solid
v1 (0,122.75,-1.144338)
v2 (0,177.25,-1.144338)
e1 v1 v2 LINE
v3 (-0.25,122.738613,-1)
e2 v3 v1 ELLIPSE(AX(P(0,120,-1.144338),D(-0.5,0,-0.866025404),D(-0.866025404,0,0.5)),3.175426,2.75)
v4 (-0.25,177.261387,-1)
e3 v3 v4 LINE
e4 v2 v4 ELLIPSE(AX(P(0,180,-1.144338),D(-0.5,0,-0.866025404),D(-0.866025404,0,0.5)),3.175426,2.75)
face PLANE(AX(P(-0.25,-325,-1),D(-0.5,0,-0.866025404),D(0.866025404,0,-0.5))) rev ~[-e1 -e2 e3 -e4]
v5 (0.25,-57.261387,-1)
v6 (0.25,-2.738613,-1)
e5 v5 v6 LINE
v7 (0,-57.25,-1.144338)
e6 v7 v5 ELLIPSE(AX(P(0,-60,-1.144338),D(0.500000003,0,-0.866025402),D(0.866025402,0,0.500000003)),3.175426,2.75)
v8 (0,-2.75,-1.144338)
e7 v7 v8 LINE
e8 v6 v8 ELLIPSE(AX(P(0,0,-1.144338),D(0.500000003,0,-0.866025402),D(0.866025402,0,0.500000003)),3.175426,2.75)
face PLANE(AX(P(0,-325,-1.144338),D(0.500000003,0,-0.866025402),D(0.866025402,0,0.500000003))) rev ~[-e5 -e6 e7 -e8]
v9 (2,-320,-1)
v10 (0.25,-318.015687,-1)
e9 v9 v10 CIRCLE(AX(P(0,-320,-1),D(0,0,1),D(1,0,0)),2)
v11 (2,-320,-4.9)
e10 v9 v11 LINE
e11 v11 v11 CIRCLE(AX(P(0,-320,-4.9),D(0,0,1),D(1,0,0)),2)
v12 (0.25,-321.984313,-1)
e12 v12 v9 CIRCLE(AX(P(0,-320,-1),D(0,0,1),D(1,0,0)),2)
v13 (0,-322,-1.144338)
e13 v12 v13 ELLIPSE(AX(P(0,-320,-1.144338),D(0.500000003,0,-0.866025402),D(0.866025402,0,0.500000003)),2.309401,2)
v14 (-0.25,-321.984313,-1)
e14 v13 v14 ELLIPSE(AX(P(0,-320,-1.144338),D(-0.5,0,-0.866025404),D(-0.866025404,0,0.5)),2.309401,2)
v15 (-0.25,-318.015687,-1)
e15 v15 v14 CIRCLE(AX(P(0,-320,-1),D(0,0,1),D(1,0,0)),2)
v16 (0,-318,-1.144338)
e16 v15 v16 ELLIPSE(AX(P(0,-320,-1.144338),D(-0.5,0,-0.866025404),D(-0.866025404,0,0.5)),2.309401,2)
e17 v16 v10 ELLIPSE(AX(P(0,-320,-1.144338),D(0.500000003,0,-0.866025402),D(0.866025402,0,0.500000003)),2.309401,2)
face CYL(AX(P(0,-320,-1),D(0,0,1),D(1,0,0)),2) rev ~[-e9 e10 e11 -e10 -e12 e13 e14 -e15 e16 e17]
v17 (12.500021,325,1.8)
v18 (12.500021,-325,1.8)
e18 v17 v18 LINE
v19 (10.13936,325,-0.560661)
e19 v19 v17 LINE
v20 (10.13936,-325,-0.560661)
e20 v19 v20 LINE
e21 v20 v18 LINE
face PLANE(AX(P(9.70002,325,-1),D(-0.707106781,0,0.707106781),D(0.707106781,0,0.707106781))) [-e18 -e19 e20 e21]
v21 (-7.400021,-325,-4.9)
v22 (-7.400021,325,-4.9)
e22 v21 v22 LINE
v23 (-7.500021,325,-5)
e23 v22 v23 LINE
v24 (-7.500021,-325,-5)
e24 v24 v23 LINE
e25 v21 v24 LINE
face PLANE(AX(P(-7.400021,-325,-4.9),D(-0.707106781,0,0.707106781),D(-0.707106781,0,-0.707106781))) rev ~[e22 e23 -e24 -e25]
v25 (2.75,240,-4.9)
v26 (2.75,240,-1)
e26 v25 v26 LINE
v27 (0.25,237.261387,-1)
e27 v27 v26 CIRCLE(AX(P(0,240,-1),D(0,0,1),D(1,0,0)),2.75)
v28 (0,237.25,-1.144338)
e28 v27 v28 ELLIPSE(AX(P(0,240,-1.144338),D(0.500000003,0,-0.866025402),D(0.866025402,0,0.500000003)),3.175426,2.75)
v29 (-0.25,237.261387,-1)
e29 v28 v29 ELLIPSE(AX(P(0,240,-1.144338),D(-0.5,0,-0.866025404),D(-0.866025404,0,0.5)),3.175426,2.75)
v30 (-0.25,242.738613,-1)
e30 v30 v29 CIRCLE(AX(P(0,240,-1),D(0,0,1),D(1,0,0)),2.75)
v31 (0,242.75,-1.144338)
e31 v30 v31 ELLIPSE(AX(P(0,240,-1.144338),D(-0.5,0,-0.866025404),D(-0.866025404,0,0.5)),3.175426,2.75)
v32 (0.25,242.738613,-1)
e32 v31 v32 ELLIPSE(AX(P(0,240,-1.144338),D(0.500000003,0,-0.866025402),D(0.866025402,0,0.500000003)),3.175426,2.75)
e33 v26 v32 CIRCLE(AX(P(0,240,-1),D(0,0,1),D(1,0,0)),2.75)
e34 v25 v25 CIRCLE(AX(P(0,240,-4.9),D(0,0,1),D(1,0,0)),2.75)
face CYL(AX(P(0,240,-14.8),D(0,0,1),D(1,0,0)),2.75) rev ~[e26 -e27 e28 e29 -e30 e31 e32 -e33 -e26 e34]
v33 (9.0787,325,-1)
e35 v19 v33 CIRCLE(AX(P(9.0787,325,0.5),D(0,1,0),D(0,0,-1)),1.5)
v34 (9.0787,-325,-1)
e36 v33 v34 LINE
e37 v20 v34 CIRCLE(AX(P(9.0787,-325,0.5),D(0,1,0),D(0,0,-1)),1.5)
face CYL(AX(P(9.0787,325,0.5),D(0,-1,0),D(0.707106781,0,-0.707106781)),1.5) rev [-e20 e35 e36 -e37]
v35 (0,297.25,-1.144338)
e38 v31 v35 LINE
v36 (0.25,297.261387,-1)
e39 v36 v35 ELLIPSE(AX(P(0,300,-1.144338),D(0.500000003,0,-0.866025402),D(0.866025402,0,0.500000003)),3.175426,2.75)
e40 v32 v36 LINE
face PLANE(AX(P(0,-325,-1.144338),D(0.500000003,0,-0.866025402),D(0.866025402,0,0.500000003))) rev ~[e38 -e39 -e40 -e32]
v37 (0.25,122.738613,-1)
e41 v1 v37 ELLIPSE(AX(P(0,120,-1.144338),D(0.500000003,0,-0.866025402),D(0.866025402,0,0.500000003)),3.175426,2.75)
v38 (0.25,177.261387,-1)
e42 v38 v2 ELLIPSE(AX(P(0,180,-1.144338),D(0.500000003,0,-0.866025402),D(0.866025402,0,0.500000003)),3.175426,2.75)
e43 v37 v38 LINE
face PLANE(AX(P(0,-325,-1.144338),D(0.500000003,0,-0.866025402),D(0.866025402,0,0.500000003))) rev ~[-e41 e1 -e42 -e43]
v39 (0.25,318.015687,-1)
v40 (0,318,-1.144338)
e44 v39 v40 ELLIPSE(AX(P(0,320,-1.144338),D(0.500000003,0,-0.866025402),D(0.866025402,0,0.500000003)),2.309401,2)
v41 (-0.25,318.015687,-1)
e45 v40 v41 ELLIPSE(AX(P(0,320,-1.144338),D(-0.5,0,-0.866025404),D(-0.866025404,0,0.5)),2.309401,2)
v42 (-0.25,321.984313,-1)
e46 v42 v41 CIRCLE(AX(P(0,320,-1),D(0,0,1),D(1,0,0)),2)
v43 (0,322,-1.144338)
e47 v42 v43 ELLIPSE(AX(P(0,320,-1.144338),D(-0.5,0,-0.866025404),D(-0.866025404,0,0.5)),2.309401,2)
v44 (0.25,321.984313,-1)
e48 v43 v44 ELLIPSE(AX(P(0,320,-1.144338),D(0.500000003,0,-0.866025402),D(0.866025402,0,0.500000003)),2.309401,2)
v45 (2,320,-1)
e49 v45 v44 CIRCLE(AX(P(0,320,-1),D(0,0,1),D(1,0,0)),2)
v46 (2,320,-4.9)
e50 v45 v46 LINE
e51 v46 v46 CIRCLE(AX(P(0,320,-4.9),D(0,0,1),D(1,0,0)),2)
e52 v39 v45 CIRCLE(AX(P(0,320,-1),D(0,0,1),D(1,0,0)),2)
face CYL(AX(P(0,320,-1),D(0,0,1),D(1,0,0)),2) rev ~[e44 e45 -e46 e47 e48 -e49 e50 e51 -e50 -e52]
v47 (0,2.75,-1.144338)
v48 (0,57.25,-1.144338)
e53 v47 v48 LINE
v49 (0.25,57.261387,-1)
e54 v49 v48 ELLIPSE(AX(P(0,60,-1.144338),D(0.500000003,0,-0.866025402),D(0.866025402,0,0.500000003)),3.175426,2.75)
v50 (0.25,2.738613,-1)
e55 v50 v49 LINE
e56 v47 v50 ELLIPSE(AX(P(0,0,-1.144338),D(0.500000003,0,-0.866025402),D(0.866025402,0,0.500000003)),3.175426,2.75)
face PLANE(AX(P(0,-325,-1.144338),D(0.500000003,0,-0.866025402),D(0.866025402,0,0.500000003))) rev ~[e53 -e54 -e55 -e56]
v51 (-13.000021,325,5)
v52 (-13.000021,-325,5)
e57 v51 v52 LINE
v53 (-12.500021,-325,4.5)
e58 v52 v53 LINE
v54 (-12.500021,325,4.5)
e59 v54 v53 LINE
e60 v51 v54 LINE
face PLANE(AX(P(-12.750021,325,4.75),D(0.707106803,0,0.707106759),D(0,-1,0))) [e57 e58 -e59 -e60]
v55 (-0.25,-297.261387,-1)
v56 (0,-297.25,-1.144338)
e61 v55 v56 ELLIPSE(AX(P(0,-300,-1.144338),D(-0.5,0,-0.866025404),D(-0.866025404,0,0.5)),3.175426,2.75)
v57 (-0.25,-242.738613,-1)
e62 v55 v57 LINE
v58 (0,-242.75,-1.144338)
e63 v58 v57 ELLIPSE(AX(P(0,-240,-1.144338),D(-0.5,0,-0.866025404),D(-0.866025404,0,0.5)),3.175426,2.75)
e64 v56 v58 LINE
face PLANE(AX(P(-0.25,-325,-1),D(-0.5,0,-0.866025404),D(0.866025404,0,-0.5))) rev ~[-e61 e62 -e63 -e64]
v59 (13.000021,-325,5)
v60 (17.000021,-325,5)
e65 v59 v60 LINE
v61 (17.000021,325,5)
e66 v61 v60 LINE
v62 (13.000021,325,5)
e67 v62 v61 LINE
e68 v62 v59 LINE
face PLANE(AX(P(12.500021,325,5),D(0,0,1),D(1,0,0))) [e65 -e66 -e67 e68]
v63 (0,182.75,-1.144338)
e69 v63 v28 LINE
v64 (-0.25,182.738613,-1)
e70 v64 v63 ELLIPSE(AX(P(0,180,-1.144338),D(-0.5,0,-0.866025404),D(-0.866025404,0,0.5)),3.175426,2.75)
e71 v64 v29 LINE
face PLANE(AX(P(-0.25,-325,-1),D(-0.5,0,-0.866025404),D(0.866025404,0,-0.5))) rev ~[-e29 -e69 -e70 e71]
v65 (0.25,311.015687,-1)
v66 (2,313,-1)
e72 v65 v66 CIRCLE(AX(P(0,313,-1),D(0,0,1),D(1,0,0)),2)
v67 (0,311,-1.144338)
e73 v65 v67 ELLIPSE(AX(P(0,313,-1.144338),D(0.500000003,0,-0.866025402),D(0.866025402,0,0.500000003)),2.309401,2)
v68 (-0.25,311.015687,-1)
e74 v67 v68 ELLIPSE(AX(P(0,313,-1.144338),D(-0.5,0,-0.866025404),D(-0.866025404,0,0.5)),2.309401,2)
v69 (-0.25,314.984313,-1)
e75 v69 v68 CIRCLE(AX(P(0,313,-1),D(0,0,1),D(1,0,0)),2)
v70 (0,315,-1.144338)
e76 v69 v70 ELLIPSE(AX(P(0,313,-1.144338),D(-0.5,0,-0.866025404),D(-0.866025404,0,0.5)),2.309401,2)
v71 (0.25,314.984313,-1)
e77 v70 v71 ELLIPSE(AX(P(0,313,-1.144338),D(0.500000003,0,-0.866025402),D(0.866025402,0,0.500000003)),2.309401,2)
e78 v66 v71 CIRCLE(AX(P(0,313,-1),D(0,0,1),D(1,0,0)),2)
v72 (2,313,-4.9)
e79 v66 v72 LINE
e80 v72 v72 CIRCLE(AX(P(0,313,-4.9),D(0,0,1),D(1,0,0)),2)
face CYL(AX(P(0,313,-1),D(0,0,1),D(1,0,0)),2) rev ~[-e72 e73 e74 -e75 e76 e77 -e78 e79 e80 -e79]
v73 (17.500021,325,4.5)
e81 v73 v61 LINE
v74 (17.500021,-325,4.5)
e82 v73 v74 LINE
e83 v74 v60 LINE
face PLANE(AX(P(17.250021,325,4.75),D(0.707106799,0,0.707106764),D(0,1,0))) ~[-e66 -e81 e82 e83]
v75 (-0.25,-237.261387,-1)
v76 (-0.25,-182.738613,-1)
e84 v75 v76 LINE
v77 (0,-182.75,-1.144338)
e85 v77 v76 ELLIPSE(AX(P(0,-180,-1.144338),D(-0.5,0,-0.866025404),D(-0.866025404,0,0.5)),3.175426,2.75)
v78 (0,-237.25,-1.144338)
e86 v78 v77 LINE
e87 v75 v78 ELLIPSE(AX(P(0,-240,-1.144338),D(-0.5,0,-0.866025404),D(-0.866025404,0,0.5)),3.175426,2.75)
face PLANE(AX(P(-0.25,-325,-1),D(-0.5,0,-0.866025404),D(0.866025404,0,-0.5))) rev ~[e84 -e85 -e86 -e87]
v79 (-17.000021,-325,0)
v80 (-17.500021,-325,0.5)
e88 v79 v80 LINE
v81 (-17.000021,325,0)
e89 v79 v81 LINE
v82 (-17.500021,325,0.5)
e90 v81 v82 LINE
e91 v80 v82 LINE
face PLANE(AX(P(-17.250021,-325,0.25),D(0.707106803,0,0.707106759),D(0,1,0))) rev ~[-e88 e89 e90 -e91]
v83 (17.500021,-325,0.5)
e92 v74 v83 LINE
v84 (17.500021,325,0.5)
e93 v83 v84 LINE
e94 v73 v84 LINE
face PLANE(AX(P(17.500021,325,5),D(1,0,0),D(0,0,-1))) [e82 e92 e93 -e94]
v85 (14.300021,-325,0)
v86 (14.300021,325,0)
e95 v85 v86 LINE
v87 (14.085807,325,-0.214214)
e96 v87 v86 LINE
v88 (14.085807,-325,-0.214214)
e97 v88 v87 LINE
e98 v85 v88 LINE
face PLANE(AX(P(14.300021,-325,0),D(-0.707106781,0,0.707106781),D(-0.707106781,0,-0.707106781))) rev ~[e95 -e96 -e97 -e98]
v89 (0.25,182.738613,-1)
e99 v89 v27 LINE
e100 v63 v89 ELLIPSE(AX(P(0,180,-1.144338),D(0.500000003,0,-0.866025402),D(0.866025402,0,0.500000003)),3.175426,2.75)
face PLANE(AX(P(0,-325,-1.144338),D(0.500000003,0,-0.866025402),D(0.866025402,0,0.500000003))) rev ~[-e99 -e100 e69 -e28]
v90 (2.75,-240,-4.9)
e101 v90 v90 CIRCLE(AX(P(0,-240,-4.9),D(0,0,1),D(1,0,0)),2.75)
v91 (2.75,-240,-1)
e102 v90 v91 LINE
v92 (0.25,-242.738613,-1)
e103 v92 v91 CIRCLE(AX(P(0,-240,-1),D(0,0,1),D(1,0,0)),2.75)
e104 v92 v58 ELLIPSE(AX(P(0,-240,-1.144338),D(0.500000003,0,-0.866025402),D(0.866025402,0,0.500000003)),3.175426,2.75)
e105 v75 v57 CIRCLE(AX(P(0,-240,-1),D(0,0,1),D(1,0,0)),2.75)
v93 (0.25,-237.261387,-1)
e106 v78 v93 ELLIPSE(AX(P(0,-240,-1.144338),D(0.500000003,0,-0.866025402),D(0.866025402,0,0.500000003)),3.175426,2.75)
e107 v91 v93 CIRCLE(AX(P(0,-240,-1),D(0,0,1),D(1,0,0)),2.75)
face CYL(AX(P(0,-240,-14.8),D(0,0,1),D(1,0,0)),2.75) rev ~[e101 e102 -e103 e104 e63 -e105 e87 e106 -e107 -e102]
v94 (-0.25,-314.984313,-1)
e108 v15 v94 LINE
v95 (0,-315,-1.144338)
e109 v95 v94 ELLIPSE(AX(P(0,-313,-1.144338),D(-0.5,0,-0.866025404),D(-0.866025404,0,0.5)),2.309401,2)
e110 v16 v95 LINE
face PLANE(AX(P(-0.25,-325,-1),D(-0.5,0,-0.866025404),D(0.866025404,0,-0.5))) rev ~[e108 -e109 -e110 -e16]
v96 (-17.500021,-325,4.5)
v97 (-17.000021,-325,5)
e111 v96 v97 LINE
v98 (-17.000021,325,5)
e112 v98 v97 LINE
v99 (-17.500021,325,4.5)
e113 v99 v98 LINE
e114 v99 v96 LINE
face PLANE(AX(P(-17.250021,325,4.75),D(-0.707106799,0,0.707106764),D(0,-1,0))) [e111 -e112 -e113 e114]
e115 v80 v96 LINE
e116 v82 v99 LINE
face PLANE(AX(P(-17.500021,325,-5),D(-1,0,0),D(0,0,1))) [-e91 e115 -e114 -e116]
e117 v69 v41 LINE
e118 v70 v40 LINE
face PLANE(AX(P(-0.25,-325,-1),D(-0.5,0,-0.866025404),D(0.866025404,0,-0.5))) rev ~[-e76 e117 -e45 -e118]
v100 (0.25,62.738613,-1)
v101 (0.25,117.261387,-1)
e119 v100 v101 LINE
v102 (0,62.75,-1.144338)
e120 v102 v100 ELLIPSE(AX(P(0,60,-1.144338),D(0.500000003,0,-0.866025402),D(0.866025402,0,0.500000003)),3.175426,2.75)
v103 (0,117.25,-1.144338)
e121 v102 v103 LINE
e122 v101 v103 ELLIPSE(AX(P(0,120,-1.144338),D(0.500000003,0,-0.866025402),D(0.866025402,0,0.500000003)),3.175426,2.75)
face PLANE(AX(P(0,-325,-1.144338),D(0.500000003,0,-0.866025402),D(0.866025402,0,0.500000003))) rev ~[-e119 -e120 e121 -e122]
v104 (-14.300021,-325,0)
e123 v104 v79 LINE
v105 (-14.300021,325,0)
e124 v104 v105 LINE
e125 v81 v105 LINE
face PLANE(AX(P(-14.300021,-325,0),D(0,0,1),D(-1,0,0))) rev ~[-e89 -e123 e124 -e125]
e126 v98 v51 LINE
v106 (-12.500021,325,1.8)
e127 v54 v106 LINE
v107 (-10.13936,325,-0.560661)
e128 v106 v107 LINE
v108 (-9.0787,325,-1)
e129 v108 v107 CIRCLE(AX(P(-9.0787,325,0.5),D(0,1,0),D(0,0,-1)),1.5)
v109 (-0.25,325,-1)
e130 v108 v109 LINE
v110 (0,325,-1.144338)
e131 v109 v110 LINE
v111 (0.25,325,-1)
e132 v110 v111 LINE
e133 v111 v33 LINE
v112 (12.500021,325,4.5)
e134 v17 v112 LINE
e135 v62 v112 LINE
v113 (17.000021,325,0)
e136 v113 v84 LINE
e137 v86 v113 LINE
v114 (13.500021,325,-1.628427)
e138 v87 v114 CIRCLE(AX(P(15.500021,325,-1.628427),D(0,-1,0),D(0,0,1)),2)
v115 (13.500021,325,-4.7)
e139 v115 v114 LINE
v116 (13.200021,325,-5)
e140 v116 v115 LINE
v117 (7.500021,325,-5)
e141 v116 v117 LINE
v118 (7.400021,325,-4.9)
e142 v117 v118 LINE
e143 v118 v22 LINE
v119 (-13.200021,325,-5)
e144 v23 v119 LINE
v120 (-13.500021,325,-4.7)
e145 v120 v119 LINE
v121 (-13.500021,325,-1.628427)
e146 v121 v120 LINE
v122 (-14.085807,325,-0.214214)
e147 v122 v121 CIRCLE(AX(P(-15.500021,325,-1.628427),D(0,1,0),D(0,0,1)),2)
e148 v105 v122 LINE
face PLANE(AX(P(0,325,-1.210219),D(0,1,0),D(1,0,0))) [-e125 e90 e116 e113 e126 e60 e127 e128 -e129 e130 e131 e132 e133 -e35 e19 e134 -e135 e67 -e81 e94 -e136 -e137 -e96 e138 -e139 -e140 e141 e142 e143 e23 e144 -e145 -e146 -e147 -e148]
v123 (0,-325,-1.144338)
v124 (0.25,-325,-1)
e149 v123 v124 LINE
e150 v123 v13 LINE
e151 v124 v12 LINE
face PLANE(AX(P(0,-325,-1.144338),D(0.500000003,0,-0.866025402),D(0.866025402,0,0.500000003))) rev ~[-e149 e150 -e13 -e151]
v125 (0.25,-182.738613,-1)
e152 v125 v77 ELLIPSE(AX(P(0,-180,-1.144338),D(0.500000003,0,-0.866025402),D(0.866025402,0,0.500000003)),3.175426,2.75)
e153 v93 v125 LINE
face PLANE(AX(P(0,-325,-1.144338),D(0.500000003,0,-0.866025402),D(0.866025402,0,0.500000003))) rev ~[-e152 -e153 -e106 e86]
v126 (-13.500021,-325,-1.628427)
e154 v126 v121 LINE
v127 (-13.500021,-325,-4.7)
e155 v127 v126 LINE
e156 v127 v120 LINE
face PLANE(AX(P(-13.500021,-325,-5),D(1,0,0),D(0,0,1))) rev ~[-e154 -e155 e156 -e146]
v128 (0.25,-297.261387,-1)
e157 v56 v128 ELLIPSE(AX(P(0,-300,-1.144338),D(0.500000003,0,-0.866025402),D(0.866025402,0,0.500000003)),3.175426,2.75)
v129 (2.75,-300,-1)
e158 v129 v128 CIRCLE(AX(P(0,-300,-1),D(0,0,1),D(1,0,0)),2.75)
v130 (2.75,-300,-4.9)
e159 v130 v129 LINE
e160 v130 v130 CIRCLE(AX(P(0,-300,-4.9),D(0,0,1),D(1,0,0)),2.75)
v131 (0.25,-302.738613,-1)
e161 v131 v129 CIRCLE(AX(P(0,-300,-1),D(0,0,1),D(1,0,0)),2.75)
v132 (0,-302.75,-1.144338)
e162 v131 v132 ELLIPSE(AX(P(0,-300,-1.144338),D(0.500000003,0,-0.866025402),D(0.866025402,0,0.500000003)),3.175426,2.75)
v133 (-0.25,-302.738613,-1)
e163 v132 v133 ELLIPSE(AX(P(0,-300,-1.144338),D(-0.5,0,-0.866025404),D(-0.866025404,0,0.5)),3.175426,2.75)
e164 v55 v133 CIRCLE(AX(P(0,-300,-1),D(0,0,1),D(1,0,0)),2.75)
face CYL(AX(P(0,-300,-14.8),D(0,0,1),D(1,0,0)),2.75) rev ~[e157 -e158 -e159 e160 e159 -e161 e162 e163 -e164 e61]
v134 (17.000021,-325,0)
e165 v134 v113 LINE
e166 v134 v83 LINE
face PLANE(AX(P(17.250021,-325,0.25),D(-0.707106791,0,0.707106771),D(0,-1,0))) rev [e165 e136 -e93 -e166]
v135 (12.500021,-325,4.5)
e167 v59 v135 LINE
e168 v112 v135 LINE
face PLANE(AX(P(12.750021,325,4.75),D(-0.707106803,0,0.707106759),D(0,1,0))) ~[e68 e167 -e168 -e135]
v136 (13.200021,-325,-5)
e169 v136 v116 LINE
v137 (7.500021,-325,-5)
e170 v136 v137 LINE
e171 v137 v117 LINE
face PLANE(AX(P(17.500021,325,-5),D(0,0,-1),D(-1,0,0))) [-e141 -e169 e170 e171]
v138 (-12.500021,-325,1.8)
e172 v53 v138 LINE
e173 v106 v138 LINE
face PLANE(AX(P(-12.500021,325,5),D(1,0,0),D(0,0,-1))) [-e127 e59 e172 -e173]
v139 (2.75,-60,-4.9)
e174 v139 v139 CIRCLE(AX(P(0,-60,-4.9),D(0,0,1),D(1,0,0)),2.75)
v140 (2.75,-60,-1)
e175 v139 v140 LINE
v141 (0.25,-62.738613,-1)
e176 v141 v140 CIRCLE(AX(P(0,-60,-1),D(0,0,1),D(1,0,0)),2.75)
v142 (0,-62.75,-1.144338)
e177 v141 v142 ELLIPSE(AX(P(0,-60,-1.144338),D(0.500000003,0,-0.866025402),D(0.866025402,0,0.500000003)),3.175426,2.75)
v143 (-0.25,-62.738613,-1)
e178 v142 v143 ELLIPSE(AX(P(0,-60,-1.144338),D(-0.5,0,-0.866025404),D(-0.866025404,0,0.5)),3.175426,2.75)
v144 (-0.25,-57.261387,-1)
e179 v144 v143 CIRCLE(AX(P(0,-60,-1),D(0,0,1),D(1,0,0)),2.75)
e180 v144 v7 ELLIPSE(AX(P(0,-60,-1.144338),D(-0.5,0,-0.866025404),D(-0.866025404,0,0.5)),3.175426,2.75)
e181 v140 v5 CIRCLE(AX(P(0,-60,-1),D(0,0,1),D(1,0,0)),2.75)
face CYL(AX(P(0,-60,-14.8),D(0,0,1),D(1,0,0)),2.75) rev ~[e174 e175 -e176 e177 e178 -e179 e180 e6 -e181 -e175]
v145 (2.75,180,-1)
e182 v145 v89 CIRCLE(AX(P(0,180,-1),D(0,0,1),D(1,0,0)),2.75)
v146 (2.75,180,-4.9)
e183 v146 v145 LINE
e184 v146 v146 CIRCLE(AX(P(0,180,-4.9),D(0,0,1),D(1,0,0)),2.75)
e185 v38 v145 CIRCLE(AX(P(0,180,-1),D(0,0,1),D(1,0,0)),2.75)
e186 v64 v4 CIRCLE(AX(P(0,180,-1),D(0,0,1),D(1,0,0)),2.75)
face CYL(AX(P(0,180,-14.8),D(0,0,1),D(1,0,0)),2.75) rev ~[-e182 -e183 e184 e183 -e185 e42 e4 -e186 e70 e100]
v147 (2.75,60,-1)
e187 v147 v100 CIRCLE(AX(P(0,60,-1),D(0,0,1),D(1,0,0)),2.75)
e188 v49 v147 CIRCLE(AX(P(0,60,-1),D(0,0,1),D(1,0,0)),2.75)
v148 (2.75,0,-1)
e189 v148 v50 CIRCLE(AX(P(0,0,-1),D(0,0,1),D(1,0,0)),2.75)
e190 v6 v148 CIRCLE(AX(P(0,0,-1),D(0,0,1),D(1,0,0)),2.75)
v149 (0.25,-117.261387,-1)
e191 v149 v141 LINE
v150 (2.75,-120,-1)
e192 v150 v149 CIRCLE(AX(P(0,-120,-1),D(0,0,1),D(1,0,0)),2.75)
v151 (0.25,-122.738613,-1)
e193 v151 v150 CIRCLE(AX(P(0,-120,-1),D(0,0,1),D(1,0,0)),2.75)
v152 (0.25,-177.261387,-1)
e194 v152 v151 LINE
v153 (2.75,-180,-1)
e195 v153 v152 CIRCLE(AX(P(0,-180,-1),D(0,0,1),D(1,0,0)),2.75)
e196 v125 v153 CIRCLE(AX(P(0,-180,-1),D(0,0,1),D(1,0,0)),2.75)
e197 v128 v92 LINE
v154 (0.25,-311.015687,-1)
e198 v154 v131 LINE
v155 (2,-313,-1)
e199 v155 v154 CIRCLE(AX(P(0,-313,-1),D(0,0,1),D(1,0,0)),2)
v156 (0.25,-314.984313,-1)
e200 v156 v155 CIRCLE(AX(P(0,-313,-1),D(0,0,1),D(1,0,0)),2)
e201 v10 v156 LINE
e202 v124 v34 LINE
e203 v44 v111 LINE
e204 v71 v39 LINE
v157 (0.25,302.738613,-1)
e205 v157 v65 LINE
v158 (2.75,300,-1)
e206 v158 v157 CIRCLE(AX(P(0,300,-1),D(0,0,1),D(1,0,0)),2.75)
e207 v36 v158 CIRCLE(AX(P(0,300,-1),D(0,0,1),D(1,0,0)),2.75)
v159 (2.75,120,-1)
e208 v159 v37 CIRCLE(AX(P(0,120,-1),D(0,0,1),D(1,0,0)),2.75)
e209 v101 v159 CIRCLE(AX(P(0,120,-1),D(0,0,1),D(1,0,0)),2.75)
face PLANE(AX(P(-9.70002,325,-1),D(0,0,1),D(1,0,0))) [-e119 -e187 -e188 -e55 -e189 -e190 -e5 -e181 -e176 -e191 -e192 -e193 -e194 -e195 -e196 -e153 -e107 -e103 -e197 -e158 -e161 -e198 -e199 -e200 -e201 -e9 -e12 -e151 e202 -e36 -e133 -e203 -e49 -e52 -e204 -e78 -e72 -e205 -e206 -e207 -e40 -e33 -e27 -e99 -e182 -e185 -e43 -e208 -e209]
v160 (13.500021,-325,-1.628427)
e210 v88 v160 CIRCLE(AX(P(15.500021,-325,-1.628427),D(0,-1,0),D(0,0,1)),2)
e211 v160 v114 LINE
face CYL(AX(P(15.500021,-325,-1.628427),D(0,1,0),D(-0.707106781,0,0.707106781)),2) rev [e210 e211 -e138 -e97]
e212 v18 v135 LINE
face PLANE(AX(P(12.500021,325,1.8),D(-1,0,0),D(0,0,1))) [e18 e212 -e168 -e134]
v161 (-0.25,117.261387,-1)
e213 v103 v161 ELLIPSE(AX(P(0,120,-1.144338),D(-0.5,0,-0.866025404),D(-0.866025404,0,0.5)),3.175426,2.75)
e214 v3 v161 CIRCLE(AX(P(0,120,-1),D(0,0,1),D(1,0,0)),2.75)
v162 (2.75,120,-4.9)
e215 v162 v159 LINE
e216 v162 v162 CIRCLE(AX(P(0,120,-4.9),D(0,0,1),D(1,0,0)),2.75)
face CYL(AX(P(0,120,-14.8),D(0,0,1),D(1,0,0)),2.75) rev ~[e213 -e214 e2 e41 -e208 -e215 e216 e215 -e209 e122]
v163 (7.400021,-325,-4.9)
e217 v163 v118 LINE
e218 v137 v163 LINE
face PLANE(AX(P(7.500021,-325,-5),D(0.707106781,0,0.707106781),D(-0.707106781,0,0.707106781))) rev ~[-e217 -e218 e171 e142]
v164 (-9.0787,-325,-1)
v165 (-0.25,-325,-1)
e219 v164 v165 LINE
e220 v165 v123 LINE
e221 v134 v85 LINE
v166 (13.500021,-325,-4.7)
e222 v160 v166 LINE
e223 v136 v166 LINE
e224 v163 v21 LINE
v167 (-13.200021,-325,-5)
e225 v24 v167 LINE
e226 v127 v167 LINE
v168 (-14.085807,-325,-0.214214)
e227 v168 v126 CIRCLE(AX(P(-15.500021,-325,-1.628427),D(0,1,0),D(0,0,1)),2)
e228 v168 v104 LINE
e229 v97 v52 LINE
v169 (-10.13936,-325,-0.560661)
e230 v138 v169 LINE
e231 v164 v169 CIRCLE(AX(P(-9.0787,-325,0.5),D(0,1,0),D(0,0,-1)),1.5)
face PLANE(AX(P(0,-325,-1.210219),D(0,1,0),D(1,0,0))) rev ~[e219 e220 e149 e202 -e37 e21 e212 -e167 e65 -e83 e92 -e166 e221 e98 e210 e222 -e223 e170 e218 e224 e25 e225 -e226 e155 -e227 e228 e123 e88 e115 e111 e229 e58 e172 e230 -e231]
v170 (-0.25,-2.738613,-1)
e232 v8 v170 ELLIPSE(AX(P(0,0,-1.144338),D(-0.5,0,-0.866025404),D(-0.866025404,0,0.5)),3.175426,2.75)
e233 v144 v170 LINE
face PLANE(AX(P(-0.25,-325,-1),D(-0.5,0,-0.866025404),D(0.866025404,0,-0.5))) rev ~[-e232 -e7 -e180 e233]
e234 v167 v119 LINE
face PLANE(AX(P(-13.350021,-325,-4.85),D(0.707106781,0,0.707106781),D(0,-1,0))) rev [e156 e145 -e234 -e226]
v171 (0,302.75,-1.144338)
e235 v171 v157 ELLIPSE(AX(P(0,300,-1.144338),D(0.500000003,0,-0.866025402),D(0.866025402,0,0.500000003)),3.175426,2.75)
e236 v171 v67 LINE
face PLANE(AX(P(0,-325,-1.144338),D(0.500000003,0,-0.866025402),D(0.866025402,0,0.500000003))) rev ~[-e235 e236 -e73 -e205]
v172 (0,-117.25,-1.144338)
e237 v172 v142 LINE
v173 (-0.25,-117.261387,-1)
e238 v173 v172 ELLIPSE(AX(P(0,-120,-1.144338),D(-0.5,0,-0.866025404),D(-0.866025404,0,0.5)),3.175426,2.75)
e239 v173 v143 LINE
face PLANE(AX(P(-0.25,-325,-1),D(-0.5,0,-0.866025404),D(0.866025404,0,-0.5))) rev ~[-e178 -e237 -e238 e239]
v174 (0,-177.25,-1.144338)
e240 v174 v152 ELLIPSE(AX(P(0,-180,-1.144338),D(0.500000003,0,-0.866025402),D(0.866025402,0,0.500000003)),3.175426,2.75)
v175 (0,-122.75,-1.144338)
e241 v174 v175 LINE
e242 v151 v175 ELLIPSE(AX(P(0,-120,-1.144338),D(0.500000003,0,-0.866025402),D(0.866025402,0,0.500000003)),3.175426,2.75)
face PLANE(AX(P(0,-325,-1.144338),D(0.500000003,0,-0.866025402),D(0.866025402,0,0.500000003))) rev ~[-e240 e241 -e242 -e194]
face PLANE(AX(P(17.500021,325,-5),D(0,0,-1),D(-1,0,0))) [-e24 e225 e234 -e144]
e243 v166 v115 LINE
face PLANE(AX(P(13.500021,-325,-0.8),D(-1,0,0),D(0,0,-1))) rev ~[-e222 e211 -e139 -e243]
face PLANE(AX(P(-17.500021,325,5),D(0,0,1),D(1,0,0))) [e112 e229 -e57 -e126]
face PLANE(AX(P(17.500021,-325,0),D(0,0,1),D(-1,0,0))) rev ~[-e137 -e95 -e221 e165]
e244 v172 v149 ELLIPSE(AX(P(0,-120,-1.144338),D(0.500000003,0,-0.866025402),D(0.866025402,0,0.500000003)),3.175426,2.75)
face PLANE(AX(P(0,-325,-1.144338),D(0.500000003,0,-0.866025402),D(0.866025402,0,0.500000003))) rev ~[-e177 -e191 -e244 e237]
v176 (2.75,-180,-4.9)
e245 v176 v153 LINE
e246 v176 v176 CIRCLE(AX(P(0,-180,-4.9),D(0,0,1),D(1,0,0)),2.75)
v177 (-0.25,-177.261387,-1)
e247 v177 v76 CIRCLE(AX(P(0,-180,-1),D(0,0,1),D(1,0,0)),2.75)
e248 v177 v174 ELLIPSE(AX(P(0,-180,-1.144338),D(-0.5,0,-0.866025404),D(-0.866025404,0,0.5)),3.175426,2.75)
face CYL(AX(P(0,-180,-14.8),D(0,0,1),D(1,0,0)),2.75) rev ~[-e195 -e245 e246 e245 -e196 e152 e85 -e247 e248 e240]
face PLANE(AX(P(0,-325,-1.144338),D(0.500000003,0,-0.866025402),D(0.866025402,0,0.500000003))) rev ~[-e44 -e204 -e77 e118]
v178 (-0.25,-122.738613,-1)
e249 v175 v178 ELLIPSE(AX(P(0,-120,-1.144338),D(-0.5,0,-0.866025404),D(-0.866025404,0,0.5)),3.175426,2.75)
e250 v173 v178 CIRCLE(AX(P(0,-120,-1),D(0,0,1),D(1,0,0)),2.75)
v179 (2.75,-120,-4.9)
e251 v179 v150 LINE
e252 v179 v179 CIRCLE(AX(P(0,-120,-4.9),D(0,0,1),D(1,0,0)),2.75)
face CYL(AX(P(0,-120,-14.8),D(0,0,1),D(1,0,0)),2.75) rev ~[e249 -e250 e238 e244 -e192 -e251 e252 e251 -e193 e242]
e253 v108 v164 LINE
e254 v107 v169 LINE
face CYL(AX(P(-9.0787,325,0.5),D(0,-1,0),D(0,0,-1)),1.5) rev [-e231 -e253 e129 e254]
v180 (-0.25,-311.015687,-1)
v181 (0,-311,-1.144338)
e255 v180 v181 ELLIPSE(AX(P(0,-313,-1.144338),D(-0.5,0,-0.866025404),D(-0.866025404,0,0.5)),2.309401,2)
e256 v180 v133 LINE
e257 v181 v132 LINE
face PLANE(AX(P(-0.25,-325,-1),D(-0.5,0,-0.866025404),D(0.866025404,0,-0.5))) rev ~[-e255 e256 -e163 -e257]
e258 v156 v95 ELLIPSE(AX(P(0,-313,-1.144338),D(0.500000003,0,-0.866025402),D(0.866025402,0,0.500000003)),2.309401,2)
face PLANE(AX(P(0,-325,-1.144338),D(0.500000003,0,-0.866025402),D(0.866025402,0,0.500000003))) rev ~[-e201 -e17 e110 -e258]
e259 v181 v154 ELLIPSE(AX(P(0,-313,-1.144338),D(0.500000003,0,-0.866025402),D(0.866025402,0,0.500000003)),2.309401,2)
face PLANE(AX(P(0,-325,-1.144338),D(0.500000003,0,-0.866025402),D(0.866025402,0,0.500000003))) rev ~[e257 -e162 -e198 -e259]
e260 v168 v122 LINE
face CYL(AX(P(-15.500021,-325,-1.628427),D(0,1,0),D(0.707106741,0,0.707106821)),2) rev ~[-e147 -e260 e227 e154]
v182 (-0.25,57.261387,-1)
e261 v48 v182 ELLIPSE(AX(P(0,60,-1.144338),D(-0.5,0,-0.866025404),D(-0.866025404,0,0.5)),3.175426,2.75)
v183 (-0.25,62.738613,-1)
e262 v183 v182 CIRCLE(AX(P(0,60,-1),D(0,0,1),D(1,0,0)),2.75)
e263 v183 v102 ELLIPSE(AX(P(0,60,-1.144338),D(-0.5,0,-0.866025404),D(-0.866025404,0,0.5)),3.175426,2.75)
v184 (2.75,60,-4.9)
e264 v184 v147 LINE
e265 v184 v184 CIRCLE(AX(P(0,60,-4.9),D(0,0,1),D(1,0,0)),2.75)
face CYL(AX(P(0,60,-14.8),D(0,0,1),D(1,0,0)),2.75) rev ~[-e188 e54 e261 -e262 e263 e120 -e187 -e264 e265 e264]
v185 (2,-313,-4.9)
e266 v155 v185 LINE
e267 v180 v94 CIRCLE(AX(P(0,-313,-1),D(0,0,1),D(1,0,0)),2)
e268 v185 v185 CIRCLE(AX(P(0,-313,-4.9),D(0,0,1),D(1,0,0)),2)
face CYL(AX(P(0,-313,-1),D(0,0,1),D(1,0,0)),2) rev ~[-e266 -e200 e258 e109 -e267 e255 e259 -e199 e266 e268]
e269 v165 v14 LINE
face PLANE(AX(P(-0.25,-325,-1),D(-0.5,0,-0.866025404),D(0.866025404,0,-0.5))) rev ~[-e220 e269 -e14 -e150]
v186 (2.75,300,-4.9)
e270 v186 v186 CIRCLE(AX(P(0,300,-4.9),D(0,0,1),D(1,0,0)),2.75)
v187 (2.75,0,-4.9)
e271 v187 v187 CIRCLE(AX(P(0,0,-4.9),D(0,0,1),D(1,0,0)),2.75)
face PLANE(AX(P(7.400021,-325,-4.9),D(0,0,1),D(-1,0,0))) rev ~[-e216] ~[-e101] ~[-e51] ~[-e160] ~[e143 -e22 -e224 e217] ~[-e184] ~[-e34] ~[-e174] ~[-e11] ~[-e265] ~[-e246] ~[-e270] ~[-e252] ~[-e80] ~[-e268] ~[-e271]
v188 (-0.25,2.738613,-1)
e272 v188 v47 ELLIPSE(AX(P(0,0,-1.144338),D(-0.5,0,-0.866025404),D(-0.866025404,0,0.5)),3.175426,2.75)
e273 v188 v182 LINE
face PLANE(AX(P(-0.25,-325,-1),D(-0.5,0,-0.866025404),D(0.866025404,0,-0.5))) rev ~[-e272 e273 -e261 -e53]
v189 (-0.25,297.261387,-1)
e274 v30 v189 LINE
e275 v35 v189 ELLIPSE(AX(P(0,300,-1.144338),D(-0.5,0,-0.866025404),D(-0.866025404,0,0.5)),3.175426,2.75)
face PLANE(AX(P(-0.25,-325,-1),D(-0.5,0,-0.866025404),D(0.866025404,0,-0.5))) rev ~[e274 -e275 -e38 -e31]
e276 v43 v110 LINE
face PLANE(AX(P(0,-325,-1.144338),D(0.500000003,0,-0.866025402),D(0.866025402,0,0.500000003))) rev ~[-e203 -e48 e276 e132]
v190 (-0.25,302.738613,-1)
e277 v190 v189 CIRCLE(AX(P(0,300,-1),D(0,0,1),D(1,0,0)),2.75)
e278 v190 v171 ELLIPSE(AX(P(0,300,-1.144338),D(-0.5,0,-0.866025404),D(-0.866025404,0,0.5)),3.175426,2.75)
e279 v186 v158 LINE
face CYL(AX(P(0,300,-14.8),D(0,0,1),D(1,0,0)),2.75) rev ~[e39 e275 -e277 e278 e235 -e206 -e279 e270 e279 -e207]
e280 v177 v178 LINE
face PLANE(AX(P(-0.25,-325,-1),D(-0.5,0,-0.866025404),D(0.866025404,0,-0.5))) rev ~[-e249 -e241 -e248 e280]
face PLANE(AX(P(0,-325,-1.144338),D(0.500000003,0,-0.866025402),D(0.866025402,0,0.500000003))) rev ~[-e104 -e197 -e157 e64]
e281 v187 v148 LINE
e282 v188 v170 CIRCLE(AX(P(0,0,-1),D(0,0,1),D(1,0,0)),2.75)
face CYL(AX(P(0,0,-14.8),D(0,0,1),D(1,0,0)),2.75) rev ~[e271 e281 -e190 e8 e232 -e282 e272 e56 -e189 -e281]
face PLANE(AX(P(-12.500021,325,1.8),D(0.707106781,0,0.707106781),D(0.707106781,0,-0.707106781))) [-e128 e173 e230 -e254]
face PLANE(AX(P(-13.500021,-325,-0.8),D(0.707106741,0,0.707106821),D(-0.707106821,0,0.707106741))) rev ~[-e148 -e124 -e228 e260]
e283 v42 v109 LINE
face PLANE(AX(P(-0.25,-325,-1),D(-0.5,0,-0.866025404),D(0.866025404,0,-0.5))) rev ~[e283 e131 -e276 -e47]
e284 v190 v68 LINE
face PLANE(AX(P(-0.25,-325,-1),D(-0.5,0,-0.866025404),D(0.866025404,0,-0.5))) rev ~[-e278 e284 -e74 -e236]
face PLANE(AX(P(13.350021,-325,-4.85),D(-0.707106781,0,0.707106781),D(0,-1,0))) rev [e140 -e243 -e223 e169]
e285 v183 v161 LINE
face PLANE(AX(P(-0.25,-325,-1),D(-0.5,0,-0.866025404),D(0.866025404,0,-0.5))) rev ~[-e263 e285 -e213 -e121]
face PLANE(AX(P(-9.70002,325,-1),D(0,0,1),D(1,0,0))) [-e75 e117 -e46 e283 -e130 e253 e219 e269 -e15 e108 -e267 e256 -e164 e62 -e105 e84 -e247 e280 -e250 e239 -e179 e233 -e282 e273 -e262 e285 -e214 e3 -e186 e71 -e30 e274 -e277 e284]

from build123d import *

# Parameters (mm, degrees)
BOSS_EXTRU_1_DEPTH                  = 650
ENL_V_MAT_EXTRU_1_DEPTH             = 651.254758327
ENL_V_MAT_EXTRU_2_DEPTH             = 650
ENL_V_MAT_EXTRU_3_DEPTH             = 651.254758327
ENL_V_MAT_EXTRU_4_DEPTH             = 650
DIAM_TRE_DU_PER_AGE_5_5_5_5_1_D     = 5.5
DIAM_TRE_DU_PER_AGE_5_5_5_5_1_DEPTH = 9.900000103
CHANFREIN1_SIZE2                    = 0.499999975
CHANFREIN1_SIZE                     = 0.5
CHANFREIN2_SIZE                     = 0.3
CHANFREIN3_SIZE2                    = 0.500000028
CHANFREIN3_SIZE                     = 0.499999997
CHANFREIN4_SIZE                     = 0.5
CHANFREIN4_SIZE2                    = 0.500000014
CONG_1_R                            = 1.499999963
CONG_2_R                            = 1.999999944
ESQUISSE8_R                         = 2
ENL_V_MAT_EXTRU_5_DEPTH             = 10


with BuildPart() as part:
    # Esquisse1 → Boss.-Extru.1 (new body)
    with BuildSketch(Plane(origin=(0, 325, 0), x_dir=(1, 0, 0), z_dir=(0, 1, 0))):
        Polygon((-9.70002034, 1.00000045), (9.70002034, 1.00000045), (12.50002072, -1.79999993), (12.50002072, -4.999999928), (17.50002072, -4.999999928), (17.50002072, 5.000000175), (-17.50002072, 5.000000175), (-17.50002072, -4.999999928), (-12.50002072, -4.999999928), (-12.50002072, -1.79999993), align=None)
    extrude(amount=-BOSS_EXTRU_1_DEPTH)

    # Esquisse2 → Enlèv. mat.-Extru.1 (cut, through all)
    with BuildSketch(Plane.XZ.offset(325)):
        Polygon((-14.30002069, -6.7e-08), (-17.50002072, -6.7e-08), (-17.50002072, -5.000000175), (-13.50002072, -5.000000175), (-13.50002072, -0.799999947), align=None)
    extrude(amount=-ENL_V_MAT_EXTRU_1_DEPTH, mode=Mode.SUBTRACT)

    # Esquisse3 → Enlèv. mat.-Extru.2 (cut)
    with BuildSketch(Plane.XZ.offset(325)):
        Polygon((0.25, -1.000000175), (-0.25, -1.000000175), (1e-09, -1.144337743), align=None)
    extrude(amount=-ENL_V_MAT_EXTRU_2_DEPTH, mode=Mode.SUBTRACT)

    # Esquisse4 → Enlèv. mat.-Extru.3 (cut, through all)
    with BuildSketch(Plane.XZ.offset(325)):
        Polygon((13.50002072, -0.799999925), (13.50002072, -5.000000175), (17.50002072, -5.000000175), (17.50002072, 7.5e-08), (14.30002072, 7.5e-08), align=None)
    extrude(amount=-ENL_V_MAT_EXTRU_3_DEPTH, mode=Mode.SUBTRACT)

    # Esquisse5 → Enlèv. mat.-Extru.4 (cut)
    with BuildSketch(Plane.XZ.offset(325)):
        Polygon((-7.50002072, -5.000000175), (7.50002072, -5.000000175), (7.40002072, -4.900000175), (-7.40002072, -4.900000175), align=None)
    extrude(amount=-ENL_V_MAT_EXTRU_4_DEPTH, mode=Mode.SUBTRACT)

    # Diamètre du perçage Ø5.5 (5.5)1
    with Locations(Plane(origin=(0, 0, -4.900000175), x_dir=(-1, 0, 0), z_dir=(0, 0, -1))):
        with Locations((0, 300), (0, 240), (0, 180), (0, 120), (0, 60), (0, 0), (0, -60), (0, -120), (0, -180), (0, -240), (0, -300)):
            Hole(DIAM_TRE_DU_PER_AGE_5_5_5_5_1_D / 2, depth=DIAM_TRE_DU_PER_AGE_5_5_5_5_1_DEPTH)

    # Chanfrein1
    chanfrein1_edges = [part.edges().sort_by_distance(p)[0] for p in [
        (-17.50002072, 0, 4.999999928),
        (17.50002072, 0, 4.999999928),
    ]]
    chamfer(chanfrein1_edges, length=CHANFREIN1_SIZE, length2=CHANFREIN1_SIZE2)

    # Chanfrein2
    chanfrein2_edges = [part.edges().sort_by_distance(p)[0] for p in [
        (-13.50002072, 0, -5.000000175),
        (13.50002072, 0, -5.000000175),
    ]]
    chamfer(chanfrein2_edges, length=CHANFREIN2_SIZE)

    # Chanfrein3
    chanfrein3_edges = [part.edges().sort_by_distance(p)[0] for p in [
        (-12.50002072, 0, 4.999999928),
        (12.50002072, 0, 4.999999928),
        (-17.50002072, 0, -6.7e-08),
    ]]
    chamfer(chanfrein3_edges, length=CHANFREIN3_SIZE, length2=CHANFREIN3_SIZE2)

    # Chanfrein4
    chanfrein4_edges = [part.edges().sort_by_distance(p)[0] for p in [
        (17.50002072, 0, 7.5e-08),
    ]]
    chanfrein4_side = [part.faces().sort_by_distance(p)[0] for p in [
        (15.90002072, 0, 7.5e-08),
    ]]
    chamfer(chanfrein4_edges, length=CHANFREIN4_SIZE, length2=CHANFREIN4_SIZE2, reference=chanfrein4_side[0])

    # Congé1
    cong_1_edges = [part.edges().sort_by_distance(p)[0] for p in [
        (9.70002034, 0, -1.00000045),
        (-9.70002034, 0, -1.00000045),
    ]]
    fillet(cong_1_edges, radius=CONG_1_R)

    # Congé2
    cong_2_edges = [part.edges().sort_by_distance(p)[0] for p in [
        (-13.50002072, 0, -0.799999947),
        (13.50002072, 0, -0.799999925),
    ]]
    fillet(cong_2_edges, radius=CONG_2_R)

    # Esquisse8 → Enlèv. mat.-Extru.5 (cut)
    with BuildSketch(Plane.XY.offset(-1.00000045)):
        with Locations((1e-09, -313)):
            Circle(ESQUISSE8_R)
        with Locations((1e-09, 313)):
            Circle(ESQUISSE8_R)
        with Locations((0, -320)):
            Circle(ESQUISSE8_R)
        with Locations((0, 320)):
            Circle(ESQUISSE8_R)
    extrude(amount=-ENL_V_MAT_EXTRU_5_DEPTH, mode=Mode.SUBTRACT)


solid = part.part
